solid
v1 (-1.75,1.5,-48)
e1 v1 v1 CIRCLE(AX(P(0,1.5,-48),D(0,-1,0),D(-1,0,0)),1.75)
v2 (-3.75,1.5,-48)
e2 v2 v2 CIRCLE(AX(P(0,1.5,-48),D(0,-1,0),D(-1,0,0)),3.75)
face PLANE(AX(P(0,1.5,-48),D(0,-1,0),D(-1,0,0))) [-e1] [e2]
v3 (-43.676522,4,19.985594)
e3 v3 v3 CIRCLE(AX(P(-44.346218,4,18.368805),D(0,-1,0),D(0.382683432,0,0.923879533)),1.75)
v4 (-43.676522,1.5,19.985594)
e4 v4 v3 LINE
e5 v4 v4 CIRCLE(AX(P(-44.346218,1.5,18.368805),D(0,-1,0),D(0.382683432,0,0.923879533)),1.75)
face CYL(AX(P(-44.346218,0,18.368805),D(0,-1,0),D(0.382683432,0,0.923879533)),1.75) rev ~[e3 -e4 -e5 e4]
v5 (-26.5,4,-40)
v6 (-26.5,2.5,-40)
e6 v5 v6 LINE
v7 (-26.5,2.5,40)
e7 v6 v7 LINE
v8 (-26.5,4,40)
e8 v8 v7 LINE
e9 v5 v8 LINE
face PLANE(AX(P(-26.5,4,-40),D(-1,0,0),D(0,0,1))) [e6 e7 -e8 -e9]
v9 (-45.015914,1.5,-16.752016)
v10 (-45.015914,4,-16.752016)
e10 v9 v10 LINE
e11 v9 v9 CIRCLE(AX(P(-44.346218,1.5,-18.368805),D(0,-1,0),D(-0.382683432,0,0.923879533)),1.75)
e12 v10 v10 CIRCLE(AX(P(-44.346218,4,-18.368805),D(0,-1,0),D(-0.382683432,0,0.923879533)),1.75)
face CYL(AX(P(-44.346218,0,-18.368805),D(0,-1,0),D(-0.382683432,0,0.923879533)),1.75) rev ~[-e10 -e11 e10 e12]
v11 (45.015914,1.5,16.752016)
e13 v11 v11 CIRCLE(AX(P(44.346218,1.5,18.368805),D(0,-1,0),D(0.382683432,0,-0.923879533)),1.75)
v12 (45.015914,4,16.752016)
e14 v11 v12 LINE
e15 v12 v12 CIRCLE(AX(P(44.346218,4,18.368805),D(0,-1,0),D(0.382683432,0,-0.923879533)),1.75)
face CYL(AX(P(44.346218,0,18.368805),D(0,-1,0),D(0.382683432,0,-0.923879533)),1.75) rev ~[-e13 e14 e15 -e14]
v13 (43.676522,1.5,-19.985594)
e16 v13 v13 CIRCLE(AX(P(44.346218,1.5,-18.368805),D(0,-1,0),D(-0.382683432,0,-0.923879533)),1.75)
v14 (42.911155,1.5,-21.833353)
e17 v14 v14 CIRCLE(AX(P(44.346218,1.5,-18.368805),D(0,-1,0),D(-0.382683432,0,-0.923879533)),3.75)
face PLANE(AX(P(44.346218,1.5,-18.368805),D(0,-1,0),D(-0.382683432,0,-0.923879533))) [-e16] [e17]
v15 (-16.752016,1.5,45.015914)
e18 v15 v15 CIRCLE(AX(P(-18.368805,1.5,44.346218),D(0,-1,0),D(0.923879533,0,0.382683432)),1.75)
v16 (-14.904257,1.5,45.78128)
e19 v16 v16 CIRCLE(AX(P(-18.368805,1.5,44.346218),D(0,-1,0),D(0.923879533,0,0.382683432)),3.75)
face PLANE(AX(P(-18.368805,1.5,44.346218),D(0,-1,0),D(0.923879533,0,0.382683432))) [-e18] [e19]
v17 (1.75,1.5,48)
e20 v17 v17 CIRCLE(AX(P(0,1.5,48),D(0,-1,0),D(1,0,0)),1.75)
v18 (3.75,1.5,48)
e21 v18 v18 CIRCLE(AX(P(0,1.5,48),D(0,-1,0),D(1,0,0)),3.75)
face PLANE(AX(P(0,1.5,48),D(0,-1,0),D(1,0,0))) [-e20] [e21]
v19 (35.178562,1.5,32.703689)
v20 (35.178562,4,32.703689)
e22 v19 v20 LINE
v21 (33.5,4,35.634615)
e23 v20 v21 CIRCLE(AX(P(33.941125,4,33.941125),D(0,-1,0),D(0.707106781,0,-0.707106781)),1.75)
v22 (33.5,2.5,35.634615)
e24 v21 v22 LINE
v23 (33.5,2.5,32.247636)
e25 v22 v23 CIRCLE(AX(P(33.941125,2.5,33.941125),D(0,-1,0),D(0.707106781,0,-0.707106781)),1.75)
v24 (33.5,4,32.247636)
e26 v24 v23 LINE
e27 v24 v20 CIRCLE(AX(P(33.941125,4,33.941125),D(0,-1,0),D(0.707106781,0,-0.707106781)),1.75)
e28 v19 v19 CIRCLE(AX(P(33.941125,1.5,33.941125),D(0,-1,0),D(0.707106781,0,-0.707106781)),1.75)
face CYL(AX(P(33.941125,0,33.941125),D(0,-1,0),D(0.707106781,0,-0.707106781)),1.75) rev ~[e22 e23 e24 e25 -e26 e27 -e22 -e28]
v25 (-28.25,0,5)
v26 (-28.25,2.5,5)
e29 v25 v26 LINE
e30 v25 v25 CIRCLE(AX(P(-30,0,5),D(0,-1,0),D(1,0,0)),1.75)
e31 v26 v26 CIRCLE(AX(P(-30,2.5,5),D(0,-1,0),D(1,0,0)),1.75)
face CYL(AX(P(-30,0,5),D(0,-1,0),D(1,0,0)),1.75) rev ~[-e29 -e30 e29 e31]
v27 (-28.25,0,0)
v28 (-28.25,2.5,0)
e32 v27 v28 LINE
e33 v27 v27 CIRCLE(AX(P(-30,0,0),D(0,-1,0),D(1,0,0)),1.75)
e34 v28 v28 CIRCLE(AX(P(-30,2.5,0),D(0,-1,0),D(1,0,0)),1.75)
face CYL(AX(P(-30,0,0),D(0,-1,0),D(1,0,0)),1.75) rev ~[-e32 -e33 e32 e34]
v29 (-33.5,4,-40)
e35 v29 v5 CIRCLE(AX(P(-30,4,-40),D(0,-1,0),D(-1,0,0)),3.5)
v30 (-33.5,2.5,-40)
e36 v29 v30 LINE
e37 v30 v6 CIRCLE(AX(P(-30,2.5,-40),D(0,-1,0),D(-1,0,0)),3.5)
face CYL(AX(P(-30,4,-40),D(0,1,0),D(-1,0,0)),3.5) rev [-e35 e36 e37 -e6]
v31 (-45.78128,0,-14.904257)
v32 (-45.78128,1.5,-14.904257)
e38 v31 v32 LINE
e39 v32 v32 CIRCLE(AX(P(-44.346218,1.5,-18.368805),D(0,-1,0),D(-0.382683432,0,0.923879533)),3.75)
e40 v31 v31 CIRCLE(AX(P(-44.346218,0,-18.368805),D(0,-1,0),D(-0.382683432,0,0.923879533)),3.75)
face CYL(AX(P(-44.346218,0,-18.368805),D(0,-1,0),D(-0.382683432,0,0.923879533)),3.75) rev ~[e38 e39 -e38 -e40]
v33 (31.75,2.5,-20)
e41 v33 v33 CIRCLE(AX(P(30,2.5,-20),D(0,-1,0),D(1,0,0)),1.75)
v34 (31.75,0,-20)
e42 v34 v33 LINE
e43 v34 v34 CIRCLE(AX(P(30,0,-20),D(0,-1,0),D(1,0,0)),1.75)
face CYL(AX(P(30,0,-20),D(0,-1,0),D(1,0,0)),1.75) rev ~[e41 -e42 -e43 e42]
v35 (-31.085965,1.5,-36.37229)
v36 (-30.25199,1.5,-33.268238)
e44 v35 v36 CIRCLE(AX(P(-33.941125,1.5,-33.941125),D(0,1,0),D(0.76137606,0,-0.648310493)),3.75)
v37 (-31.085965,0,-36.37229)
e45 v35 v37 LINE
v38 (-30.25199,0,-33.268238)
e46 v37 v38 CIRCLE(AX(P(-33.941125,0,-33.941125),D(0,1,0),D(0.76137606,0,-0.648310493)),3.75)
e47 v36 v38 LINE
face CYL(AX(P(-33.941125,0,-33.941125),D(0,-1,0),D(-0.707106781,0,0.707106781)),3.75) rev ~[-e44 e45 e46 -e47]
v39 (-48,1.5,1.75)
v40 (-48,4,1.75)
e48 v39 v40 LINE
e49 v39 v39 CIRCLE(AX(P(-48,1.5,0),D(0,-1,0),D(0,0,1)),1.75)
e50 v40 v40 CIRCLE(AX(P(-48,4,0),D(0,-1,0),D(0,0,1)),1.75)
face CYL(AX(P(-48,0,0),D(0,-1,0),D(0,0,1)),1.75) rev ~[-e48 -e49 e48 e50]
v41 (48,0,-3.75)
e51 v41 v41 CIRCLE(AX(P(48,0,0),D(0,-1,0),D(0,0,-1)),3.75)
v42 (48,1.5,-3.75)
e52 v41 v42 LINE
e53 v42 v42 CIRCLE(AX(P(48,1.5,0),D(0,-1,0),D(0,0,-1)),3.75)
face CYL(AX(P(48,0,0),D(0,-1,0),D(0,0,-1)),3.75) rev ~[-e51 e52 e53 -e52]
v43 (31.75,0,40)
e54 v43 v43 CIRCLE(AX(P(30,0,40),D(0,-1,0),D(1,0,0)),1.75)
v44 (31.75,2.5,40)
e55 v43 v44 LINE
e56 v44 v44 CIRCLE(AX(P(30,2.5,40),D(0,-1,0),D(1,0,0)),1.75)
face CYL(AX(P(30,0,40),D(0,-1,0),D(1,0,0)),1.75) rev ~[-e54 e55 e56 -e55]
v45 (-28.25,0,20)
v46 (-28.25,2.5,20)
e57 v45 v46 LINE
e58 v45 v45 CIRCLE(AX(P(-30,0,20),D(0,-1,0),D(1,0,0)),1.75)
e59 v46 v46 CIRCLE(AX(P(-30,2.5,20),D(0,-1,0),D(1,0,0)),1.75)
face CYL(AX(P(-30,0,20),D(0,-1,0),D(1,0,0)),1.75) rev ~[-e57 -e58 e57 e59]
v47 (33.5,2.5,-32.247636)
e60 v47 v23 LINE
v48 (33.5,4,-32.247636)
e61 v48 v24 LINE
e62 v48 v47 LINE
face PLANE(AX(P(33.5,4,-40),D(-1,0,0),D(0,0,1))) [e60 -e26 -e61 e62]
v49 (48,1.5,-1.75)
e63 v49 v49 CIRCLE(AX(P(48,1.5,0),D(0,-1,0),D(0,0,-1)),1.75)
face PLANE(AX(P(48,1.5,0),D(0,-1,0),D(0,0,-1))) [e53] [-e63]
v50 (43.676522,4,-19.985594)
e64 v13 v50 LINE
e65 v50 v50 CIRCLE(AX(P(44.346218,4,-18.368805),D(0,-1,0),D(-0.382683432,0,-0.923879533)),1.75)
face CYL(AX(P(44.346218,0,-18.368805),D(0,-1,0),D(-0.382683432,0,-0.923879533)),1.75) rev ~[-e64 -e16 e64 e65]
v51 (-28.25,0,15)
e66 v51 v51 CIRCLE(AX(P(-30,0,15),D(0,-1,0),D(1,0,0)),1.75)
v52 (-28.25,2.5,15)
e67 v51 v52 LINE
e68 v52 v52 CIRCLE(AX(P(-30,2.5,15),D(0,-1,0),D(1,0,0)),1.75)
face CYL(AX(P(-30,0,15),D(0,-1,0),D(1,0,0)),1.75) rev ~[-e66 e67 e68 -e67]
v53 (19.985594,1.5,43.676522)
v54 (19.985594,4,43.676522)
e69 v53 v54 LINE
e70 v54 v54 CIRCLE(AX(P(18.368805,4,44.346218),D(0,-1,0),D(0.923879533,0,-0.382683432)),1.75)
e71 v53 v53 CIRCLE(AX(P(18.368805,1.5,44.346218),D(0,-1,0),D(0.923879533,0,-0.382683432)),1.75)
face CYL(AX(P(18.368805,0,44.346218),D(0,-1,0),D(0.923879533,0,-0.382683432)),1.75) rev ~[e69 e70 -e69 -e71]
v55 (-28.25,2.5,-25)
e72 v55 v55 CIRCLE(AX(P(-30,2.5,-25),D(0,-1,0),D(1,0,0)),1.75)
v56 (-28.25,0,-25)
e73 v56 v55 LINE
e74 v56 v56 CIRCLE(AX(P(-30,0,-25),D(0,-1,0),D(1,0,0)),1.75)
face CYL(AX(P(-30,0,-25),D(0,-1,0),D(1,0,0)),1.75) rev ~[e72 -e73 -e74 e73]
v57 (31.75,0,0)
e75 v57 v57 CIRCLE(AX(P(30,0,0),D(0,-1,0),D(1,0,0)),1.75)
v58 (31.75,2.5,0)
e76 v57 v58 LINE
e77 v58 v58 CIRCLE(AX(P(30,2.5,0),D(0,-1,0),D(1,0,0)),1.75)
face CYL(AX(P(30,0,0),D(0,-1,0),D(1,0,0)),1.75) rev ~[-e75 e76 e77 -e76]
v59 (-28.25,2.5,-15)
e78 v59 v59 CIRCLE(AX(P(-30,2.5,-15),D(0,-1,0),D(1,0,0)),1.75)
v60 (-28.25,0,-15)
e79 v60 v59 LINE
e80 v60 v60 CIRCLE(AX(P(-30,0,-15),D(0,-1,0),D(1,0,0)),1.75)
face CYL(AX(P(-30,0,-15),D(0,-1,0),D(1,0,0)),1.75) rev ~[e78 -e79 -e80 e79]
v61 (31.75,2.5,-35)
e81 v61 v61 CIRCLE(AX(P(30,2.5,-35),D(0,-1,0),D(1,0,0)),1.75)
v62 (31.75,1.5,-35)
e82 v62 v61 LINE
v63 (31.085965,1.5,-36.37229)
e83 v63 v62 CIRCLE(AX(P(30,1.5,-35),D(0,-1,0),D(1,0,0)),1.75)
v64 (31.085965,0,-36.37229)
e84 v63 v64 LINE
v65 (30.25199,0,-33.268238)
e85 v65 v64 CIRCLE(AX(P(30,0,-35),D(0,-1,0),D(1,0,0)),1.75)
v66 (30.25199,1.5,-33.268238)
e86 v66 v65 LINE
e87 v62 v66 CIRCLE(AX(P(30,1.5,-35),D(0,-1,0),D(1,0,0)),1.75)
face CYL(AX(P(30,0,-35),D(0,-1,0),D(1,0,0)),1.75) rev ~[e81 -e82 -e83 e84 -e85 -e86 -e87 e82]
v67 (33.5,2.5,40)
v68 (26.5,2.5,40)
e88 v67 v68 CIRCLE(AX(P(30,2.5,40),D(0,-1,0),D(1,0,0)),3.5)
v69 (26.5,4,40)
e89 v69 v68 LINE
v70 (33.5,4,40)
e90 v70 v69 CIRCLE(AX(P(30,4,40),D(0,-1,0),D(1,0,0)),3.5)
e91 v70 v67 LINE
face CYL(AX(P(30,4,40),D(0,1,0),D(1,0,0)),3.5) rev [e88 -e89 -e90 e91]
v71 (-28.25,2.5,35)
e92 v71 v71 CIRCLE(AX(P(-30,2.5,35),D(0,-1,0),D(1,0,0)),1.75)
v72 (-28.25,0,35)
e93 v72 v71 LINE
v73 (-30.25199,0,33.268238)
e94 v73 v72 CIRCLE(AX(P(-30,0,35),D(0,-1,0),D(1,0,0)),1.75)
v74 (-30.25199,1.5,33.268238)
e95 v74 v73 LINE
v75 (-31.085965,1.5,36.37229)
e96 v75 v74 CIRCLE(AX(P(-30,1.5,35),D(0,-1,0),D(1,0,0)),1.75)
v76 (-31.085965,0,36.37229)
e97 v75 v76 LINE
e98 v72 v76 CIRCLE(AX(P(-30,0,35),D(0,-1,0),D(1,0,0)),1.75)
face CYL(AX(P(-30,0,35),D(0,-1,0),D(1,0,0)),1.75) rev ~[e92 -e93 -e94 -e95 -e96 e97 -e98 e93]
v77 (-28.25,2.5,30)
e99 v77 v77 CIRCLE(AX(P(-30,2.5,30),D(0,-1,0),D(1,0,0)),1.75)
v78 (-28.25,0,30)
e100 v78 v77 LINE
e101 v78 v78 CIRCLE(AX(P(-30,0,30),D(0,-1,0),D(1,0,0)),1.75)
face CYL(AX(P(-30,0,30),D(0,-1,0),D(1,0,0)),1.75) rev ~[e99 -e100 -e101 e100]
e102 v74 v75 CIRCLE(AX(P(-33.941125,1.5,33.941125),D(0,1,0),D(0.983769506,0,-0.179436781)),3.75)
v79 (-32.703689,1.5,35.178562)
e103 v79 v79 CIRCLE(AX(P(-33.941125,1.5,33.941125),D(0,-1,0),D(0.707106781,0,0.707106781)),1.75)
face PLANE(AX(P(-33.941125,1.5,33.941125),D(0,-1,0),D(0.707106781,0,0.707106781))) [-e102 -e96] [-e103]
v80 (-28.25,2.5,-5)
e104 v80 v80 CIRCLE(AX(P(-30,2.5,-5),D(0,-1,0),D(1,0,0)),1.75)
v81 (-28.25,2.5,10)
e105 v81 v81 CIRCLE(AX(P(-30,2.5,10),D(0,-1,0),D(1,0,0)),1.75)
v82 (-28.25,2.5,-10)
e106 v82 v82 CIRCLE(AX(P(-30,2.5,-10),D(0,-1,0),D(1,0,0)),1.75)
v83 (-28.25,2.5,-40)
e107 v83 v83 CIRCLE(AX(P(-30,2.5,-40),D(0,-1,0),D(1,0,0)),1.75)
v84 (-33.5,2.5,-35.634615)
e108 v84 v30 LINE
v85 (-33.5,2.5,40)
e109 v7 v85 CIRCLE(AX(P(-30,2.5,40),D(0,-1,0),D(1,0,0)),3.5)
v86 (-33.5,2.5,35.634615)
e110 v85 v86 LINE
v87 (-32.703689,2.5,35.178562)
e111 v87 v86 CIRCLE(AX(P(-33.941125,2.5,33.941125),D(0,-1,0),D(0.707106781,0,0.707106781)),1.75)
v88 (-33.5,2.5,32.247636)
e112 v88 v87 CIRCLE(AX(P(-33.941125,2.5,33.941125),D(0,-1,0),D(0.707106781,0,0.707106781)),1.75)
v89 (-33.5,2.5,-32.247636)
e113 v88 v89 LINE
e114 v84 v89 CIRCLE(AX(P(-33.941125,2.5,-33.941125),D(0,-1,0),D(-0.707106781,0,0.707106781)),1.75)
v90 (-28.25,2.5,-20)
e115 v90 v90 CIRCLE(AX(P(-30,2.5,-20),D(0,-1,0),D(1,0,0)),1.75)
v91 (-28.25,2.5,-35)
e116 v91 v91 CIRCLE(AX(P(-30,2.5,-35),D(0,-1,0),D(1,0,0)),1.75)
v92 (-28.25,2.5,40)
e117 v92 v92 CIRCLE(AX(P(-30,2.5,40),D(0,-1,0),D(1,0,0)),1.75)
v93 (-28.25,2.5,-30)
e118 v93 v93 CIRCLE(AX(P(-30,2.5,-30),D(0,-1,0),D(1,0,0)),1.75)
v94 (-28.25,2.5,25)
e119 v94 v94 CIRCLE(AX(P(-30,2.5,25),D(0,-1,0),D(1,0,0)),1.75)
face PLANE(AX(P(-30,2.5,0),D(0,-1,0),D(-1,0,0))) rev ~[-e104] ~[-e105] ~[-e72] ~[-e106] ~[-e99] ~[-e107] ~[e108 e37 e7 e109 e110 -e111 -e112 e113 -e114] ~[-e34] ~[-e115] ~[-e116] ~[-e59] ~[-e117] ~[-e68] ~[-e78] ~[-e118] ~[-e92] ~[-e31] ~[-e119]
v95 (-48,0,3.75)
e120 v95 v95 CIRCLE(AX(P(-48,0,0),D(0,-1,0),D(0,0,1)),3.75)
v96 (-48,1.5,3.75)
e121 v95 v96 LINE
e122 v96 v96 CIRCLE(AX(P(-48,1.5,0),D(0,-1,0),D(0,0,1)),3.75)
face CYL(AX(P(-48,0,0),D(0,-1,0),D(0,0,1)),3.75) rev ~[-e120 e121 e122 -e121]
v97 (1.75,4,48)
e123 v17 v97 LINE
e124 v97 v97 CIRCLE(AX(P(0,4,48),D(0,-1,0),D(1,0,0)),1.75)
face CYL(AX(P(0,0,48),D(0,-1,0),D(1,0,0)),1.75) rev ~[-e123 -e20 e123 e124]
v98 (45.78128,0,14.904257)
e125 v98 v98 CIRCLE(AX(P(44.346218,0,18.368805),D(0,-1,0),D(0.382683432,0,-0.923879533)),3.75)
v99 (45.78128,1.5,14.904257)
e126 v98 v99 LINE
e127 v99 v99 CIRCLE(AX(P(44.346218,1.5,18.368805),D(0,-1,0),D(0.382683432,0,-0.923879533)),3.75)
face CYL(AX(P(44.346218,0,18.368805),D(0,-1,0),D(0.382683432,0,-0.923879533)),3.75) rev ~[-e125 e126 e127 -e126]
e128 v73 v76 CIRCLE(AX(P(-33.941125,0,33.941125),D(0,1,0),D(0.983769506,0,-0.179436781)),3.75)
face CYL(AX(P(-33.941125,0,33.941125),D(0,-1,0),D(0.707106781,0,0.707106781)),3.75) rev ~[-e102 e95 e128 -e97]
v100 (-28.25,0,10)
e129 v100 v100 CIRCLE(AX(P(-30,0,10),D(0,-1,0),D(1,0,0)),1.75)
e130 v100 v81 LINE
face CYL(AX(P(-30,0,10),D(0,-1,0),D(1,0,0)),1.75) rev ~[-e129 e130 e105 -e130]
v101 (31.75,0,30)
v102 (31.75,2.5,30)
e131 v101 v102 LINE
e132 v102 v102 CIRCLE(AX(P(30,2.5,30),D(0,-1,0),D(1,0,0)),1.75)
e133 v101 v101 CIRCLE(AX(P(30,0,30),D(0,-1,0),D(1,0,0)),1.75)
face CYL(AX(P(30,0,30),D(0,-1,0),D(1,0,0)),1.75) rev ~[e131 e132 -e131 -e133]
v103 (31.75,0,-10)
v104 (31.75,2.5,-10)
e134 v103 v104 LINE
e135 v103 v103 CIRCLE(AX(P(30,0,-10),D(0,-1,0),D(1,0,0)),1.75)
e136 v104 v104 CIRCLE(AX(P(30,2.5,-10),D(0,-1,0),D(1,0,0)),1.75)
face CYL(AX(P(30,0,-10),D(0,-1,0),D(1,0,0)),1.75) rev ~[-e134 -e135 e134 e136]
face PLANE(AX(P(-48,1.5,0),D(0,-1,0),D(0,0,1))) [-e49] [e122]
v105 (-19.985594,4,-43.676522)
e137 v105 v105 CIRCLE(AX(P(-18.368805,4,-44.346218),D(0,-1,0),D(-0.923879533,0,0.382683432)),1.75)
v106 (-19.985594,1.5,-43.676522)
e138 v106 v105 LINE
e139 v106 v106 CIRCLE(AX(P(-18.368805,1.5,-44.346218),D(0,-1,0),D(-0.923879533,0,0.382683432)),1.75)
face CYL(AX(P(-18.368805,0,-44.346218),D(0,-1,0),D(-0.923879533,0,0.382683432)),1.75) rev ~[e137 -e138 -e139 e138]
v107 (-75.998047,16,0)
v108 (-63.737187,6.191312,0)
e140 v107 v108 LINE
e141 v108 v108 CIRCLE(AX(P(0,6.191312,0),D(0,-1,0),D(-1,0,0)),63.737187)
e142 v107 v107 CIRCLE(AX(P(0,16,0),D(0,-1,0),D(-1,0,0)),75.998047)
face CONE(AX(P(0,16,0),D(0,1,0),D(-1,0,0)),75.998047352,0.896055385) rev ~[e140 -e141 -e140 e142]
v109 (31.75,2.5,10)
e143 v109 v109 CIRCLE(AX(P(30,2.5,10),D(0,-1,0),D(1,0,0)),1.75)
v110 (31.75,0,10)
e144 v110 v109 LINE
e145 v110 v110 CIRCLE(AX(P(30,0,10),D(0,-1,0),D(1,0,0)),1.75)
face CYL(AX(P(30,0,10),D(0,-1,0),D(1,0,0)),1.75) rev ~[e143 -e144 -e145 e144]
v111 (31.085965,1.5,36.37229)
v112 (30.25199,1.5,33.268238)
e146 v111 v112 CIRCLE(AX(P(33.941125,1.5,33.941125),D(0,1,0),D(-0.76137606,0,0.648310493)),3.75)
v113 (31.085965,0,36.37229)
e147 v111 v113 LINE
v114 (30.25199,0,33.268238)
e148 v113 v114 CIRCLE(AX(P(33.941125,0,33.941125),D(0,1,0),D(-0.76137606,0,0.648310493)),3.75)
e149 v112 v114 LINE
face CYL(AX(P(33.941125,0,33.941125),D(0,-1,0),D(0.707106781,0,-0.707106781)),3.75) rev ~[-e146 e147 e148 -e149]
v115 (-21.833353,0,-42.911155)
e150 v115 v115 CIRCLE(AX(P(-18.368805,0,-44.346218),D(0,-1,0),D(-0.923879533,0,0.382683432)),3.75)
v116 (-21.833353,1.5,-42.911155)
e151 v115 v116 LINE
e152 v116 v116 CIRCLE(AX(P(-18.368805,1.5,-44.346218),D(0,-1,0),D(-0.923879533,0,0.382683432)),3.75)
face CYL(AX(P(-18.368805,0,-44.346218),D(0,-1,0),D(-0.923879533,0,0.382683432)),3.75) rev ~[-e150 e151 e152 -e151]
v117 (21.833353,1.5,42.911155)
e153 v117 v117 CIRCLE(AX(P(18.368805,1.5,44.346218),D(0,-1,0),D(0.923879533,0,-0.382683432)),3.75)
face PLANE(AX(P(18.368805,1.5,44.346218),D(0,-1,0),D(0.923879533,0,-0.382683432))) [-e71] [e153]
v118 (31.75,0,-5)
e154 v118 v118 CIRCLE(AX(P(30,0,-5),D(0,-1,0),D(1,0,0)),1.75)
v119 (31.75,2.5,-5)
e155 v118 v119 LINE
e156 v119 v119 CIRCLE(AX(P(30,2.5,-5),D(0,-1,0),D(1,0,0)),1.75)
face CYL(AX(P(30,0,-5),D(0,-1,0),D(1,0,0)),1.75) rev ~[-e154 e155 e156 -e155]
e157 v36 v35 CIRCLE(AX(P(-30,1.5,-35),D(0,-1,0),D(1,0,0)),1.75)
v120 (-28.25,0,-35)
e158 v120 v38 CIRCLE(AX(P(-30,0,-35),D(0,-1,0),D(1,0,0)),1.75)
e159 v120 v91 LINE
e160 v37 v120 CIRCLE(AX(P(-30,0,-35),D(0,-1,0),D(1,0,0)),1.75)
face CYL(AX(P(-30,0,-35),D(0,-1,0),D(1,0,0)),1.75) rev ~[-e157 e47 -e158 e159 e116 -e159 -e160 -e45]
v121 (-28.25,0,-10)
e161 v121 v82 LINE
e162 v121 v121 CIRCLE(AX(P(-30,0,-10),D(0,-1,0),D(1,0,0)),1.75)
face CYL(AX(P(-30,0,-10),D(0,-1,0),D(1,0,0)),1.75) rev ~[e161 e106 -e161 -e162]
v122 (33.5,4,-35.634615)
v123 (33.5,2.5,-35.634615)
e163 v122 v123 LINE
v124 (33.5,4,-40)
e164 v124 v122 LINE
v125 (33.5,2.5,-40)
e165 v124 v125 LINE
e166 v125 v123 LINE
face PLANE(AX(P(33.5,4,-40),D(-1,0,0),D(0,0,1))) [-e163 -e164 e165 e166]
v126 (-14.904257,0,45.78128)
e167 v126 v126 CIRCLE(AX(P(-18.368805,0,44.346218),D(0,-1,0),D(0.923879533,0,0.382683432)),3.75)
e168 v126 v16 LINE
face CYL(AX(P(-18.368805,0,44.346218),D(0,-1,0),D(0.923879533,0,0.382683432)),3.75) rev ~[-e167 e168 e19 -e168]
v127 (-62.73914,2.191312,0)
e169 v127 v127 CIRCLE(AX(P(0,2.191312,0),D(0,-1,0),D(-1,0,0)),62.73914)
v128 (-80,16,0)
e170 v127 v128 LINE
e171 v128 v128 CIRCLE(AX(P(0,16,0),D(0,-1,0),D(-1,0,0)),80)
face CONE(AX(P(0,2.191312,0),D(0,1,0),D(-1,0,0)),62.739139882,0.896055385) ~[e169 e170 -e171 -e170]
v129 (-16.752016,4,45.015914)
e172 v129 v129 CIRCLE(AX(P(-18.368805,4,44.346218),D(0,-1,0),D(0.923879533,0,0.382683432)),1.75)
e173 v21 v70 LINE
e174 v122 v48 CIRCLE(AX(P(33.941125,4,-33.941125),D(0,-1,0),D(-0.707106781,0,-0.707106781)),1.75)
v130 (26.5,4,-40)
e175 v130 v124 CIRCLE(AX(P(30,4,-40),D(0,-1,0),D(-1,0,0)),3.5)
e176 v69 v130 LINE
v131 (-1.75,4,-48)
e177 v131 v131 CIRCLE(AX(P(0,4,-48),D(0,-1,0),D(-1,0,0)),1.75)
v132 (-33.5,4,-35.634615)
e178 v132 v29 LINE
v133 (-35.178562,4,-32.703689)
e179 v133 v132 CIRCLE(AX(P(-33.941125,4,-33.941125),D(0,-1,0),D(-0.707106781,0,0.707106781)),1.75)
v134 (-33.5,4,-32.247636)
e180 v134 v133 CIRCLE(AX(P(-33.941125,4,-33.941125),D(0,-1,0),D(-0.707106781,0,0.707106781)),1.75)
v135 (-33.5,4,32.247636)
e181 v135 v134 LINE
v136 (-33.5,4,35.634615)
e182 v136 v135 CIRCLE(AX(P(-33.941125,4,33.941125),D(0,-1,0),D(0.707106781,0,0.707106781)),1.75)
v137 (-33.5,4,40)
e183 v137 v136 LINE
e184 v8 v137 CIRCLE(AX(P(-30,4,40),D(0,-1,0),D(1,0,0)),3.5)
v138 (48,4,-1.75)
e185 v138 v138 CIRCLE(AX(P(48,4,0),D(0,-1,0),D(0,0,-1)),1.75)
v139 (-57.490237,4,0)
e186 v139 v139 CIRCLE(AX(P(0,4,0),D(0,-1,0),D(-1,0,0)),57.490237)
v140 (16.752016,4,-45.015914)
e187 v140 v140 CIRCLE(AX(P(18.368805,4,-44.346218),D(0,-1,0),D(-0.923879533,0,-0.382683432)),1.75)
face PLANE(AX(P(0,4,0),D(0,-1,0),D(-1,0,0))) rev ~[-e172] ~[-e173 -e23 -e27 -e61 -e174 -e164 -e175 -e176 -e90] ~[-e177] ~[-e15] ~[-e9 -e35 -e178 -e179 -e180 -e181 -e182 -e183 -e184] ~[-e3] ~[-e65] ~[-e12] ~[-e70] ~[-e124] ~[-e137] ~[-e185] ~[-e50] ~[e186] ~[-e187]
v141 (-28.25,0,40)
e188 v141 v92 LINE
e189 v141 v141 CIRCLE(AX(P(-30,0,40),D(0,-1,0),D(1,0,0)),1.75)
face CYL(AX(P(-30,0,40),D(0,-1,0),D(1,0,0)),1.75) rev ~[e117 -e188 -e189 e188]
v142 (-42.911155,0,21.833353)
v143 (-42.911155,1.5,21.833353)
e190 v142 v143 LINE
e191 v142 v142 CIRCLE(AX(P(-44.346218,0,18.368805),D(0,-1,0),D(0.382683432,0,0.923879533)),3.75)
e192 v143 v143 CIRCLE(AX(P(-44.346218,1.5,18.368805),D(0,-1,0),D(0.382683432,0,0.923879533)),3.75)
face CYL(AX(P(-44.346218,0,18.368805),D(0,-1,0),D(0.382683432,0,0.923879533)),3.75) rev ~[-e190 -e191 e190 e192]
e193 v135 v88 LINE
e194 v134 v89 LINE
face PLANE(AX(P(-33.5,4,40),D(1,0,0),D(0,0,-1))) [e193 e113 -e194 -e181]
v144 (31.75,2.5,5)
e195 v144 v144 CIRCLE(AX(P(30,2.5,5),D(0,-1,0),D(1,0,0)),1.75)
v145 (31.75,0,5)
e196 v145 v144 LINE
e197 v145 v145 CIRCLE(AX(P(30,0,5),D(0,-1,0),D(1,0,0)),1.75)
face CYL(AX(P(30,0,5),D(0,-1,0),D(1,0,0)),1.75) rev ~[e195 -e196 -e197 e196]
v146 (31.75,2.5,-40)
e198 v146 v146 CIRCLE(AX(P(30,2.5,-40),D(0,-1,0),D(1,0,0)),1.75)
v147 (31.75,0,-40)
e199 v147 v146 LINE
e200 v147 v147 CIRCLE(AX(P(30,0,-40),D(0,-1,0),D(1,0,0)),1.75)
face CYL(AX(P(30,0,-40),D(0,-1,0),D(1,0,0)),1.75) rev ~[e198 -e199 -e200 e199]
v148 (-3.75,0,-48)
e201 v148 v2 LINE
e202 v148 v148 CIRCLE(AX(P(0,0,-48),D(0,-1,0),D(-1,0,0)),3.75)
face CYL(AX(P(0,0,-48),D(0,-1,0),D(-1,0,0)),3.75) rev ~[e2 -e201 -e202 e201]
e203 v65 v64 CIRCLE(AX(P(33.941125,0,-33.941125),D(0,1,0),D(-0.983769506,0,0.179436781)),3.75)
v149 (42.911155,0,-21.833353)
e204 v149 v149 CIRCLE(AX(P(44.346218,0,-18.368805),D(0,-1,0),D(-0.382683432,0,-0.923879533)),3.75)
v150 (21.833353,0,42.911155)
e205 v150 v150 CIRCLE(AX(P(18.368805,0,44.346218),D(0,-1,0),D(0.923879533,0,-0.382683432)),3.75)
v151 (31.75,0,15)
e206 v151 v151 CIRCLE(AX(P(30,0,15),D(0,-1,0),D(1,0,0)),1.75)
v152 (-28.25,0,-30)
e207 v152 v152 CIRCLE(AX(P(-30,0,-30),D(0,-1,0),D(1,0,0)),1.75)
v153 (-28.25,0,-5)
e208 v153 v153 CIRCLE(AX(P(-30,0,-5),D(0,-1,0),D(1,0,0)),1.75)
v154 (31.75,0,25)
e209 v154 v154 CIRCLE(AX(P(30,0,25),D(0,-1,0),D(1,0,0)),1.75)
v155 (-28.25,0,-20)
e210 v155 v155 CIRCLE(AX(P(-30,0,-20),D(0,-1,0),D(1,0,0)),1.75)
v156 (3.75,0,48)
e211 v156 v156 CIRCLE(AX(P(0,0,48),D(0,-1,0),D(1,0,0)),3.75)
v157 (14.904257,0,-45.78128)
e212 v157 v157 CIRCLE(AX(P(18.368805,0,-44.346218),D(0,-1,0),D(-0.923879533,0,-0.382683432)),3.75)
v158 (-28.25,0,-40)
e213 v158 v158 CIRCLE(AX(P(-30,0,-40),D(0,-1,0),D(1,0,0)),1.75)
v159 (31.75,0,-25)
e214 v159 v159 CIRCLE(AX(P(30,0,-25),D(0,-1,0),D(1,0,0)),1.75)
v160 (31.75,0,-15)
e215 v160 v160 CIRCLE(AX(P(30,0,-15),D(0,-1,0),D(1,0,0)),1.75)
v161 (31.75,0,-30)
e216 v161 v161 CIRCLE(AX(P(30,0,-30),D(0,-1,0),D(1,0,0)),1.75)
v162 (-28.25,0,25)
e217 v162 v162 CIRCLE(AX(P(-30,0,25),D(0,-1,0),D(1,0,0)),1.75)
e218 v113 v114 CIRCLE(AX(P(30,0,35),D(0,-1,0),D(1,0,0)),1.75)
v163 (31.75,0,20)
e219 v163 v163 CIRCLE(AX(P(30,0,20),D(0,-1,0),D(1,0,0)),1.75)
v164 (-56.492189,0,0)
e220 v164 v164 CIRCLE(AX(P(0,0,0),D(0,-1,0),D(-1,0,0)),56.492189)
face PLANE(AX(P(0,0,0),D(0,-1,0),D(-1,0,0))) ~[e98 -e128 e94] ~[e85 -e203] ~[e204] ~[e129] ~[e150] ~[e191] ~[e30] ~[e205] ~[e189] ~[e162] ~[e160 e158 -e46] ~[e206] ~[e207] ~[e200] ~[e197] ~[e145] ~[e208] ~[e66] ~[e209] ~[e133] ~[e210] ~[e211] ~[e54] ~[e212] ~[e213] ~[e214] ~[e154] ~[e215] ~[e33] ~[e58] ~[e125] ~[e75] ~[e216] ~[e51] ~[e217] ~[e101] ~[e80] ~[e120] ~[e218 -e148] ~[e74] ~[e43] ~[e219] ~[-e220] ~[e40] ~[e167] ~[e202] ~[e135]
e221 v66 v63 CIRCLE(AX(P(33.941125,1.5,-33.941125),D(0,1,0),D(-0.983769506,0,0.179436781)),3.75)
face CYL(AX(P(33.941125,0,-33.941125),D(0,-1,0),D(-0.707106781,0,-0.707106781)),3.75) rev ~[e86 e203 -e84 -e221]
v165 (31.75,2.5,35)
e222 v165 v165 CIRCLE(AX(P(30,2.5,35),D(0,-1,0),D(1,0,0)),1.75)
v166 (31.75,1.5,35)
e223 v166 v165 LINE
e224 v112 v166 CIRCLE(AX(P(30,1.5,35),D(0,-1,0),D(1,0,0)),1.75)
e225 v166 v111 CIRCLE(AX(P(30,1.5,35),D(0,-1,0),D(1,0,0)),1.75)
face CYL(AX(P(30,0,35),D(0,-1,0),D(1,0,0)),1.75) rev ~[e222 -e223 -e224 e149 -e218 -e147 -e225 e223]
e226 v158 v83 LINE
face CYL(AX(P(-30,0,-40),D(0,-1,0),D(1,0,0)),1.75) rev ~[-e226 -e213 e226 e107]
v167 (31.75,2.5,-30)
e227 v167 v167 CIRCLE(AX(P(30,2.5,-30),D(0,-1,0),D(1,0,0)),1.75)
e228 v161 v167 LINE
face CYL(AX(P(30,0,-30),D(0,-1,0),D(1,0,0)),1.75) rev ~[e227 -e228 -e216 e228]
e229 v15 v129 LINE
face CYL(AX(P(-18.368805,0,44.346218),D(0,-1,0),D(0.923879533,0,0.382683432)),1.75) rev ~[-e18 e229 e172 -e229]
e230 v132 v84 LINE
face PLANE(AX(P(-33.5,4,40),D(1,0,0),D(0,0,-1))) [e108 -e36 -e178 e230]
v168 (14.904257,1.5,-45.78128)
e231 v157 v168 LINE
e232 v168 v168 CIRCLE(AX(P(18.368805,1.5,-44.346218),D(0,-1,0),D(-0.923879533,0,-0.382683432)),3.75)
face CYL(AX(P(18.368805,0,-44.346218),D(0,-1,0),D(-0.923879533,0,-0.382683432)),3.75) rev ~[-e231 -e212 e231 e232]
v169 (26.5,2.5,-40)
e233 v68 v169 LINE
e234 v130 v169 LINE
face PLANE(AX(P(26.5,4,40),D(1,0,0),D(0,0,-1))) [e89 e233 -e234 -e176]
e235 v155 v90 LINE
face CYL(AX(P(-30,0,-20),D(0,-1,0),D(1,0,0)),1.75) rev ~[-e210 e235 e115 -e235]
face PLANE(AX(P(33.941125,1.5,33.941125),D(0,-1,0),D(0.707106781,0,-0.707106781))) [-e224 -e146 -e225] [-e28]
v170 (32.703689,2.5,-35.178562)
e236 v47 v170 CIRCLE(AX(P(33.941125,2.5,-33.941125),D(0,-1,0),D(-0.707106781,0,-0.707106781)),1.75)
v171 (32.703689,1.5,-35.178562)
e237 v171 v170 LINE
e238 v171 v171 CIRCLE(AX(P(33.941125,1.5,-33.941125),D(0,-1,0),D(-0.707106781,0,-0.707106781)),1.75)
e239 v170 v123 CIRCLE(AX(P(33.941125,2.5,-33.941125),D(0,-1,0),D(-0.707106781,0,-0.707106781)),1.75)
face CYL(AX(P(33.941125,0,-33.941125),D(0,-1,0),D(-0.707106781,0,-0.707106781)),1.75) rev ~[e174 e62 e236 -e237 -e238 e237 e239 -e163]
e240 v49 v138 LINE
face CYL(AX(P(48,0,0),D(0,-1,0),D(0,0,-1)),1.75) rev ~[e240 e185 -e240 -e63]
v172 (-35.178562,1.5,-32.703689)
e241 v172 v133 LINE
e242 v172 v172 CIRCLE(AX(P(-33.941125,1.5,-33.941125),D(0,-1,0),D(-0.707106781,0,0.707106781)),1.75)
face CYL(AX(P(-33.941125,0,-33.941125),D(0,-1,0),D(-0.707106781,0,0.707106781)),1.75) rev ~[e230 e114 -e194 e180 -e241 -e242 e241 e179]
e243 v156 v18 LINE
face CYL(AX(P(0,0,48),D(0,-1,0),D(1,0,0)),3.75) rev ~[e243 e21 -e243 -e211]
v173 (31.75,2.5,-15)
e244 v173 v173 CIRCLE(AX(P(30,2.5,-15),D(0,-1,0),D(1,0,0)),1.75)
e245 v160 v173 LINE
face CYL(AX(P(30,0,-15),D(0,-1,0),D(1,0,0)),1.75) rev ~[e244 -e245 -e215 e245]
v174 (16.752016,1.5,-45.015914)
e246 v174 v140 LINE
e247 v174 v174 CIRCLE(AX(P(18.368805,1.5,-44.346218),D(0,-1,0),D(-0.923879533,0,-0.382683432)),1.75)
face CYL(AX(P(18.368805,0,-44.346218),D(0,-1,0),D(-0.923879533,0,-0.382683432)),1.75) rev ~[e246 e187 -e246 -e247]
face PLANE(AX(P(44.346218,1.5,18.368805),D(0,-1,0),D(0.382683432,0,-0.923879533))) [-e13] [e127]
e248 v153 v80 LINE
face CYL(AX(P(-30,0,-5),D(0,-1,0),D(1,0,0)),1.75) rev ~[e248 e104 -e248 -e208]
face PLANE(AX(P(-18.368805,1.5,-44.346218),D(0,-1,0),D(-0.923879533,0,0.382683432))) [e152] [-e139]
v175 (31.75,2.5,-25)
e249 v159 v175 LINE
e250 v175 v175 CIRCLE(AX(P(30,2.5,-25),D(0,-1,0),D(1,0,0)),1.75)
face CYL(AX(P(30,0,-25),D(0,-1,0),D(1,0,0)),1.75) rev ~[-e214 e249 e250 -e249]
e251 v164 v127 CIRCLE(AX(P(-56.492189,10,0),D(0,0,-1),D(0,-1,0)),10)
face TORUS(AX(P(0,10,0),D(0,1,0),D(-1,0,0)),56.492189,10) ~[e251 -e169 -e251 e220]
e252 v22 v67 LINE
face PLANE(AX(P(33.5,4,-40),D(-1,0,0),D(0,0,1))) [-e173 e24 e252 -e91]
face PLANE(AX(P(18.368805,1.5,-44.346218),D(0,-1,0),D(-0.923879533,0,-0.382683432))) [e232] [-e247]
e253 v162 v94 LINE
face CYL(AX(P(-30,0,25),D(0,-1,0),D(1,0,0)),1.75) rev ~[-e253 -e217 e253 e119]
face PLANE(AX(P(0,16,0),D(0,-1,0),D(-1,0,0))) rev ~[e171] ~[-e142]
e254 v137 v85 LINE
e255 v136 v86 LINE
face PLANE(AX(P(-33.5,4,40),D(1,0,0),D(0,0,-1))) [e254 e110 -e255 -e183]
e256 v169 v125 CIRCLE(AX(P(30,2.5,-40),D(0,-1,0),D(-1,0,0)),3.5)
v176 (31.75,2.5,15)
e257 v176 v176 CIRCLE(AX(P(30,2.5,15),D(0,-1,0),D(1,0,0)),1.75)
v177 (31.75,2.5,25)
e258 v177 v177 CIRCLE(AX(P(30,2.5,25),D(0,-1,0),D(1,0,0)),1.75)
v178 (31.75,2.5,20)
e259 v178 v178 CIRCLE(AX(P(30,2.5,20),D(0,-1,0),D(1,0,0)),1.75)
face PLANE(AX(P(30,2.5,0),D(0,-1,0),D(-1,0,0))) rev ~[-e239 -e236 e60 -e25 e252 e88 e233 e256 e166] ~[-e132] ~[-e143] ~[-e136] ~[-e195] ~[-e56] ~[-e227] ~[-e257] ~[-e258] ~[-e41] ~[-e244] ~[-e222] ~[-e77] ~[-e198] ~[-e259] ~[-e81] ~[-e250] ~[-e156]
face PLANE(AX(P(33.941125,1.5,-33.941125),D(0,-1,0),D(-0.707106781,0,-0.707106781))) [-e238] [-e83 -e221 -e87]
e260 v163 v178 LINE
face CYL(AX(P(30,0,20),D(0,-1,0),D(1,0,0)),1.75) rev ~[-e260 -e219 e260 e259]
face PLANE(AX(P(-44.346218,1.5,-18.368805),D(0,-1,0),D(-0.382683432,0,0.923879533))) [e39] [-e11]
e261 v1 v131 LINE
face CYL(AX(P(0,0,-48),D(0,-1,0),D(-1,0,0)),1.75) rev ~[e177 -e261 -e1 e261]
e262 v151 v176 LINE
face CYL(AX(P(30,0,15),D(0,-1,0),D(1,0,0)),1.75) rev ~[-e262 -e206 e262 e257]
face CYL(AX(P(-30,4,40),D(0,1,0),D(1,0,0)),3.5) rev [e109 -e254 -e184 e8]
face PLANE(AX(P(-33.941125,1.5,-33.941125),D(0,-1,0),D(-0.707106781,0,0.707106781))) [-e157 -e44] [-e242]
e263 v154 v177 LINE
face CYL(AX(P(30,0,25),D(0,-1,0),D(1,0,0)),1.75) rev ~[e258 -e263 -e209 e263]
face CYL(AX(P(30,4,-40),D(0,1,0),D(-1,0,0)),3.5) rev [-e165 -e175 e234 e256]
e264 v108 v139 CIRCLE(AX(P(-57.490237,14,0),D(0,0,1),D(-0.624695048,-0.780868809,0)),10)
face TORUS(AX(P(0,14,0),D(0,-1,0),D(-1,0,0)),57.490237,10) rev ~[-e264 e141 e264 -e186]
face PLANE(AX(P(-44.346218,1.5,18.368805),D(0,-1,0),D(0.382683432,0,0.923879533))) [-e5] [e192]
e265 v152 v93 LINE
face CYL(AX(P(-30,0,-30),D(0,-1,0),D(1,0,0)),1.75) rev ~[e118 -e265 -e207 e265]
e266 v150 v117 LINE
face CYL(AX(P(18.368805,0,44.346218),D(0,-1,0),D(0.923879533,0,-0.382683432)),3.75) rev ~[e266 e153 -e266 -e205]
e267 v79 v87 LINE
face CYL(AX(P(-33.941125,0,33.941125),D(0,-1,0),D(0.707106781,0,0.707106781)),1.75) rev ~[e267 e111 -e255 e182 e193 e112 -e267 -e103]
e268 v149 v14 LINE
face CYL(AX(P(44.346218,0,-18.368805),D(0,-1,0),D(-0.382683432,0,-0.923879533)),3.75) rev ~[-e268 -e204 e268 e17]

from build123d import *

# Parameters (mm, degrees)
SKETCH2_R            = 1.75
CUT_EXTRUDE1_DEPTH   = 17
LPATTERN1_COUNT      = 9
LPATTERN1_PITCH      = 5
LPATTERN1_COUNT_DIR2 = 5
LPATTERN1_PITCH_DIR2 = 10
SKETCH3_R            = 1.75
CUT_EXTRUDE2_DEPTH   = 17
SKETCH4_R            = 3.75
CUT_EXTRUDE3_DEPTH   = 1.5
CIRPATTERN1_COUNT    = 16
CUT_EXTRUDE4_DEPTH   = 1.5


with BuildPart() as part:
    # Sketch1 → Revolve1 (revolve)
    with BuildSketch(Plane.XY):
        with BuildLine():
            Line((0, 0), (-56.492189406, 0))
            ThreePointArc((-56.492189406, 0), (-59.802258821, 0.563716808), (-62.739139882, 2.191311906))
            Line((-62.739139882, 2.191311906), (-80, 16))
            Line((-80, 16), (-75.998047352, 16))
            Line((-75.998047352, 16), (-63.737187234, 6.191311906))
            ThreePointArc((-63.737187234, 6.191311906), (-60.800306172, 4.563716808), (-57.490236758, 4))
            Line((-57.490236758, 4), (0, 4))
            Line((0, 4), (0, 0))
        make_face()
    revolve(axis=Axis((0, 4, 0), (0, -1, 0)))

    # Sketch2 → Cut-Extrude1 (cut, through all)
    with BuildSketch(Plane.XZ):
        with Locations((-30, 0)):
            Circle(SKETCH2_R)
        with Locations((30, 0)):
            Circle(SKETCH2_R)
    cut_extrude1 = extrude(amount=-CUT_EXTRUDE1_DEPTH, mode=Mode.SUBTRACT)

    # LPattern1: Cut-Extrude1 9 × 5
    with Locations(*[Vector(0, 0, 1) * (i * LPATTERN1_PITCH) + Vector(0, 0, -1) * (j * LPATTERN1_PITCH_DIR2) for i in range(LPATTERN1_COUNT) for j in range(LPATTERN1_COUNT_DIR2) if (i, j) != (0, 0)]):
        add(cut_extrude1, mode=Mode.SUBTRACT)

    # Sketch3 → Cut-Extrude2 (cut, through all)
    with BuildSketch(Plane.XZ):
        with Locations((0, 48)):
            Circle(SKETCH3_R)
    cut_extrude2 = extrude(amount=-CUT_EXTRUDE2_DEPTH, mode=Mode.SUBTRACT)

    # Sketch4 → Cut-Extrude3 (cut)
    with BuildSketch(Plane.XZ):
        with Locations((0, 48)):
            Circle(SKETCH4_R)
    cut_extrude3 = extrude(amount=-CUT_EXTRUDE3_DEPTH, mode=Mode.SUBTRACT)

    # CirPattern1: Cut-Extrude2, Cut-Extrude3 ×16 about axis
    cirpattern1_axis = Axis((0, 0, 0), (0, 1, 0))
    for i in range(1, CIRPATTERN1_COUNT):
        add(cut_extrude2.rotate(cirpattern1_axis, i * 360 / CIRPATTERN1_COUNT), mode=Mode.SUBTRACT)
        add(cut_extrude3.rotate(cirpattern1_axis, i * 360 / CIRPATTERN1_COUNT), mode=Mode.SUBTRACT)

    # Sketch5 → Cut-Extrude4 (cut)
    with BuildSketch(Plane(origin=(0, 4, 0), x_dir=(1, 0, 0), z_dir=(0, 1, 0))):
        with BuildLine():
            Line((-26.5, 40), (-26.5, -40))
            ThreePointArc((-26.5, -40), (-30, -43.5), (-33.5, -40))
            Line((-33.5, -40), (-33.5, 40))
            ThreePointArc((-33.5, 40), (-30, 43.5), (-26.5, 40))
        make_face()
        with BuildLine():
            Line((33.5, 40), (33.5, -40))
            ThreePointArc((33.5, -40), (30, -43.5), (26.5, -40))
            Line((26.5, -40), (26.5, 40))
            ThreePointArc((26.5, 40), (30, 43.5), (33.5, 40))
        make_face()
    extrude(amount=-CUT_EXTRUDE4_DEPTH, mode=Mode.SUBTRACT)


solid = part.part
